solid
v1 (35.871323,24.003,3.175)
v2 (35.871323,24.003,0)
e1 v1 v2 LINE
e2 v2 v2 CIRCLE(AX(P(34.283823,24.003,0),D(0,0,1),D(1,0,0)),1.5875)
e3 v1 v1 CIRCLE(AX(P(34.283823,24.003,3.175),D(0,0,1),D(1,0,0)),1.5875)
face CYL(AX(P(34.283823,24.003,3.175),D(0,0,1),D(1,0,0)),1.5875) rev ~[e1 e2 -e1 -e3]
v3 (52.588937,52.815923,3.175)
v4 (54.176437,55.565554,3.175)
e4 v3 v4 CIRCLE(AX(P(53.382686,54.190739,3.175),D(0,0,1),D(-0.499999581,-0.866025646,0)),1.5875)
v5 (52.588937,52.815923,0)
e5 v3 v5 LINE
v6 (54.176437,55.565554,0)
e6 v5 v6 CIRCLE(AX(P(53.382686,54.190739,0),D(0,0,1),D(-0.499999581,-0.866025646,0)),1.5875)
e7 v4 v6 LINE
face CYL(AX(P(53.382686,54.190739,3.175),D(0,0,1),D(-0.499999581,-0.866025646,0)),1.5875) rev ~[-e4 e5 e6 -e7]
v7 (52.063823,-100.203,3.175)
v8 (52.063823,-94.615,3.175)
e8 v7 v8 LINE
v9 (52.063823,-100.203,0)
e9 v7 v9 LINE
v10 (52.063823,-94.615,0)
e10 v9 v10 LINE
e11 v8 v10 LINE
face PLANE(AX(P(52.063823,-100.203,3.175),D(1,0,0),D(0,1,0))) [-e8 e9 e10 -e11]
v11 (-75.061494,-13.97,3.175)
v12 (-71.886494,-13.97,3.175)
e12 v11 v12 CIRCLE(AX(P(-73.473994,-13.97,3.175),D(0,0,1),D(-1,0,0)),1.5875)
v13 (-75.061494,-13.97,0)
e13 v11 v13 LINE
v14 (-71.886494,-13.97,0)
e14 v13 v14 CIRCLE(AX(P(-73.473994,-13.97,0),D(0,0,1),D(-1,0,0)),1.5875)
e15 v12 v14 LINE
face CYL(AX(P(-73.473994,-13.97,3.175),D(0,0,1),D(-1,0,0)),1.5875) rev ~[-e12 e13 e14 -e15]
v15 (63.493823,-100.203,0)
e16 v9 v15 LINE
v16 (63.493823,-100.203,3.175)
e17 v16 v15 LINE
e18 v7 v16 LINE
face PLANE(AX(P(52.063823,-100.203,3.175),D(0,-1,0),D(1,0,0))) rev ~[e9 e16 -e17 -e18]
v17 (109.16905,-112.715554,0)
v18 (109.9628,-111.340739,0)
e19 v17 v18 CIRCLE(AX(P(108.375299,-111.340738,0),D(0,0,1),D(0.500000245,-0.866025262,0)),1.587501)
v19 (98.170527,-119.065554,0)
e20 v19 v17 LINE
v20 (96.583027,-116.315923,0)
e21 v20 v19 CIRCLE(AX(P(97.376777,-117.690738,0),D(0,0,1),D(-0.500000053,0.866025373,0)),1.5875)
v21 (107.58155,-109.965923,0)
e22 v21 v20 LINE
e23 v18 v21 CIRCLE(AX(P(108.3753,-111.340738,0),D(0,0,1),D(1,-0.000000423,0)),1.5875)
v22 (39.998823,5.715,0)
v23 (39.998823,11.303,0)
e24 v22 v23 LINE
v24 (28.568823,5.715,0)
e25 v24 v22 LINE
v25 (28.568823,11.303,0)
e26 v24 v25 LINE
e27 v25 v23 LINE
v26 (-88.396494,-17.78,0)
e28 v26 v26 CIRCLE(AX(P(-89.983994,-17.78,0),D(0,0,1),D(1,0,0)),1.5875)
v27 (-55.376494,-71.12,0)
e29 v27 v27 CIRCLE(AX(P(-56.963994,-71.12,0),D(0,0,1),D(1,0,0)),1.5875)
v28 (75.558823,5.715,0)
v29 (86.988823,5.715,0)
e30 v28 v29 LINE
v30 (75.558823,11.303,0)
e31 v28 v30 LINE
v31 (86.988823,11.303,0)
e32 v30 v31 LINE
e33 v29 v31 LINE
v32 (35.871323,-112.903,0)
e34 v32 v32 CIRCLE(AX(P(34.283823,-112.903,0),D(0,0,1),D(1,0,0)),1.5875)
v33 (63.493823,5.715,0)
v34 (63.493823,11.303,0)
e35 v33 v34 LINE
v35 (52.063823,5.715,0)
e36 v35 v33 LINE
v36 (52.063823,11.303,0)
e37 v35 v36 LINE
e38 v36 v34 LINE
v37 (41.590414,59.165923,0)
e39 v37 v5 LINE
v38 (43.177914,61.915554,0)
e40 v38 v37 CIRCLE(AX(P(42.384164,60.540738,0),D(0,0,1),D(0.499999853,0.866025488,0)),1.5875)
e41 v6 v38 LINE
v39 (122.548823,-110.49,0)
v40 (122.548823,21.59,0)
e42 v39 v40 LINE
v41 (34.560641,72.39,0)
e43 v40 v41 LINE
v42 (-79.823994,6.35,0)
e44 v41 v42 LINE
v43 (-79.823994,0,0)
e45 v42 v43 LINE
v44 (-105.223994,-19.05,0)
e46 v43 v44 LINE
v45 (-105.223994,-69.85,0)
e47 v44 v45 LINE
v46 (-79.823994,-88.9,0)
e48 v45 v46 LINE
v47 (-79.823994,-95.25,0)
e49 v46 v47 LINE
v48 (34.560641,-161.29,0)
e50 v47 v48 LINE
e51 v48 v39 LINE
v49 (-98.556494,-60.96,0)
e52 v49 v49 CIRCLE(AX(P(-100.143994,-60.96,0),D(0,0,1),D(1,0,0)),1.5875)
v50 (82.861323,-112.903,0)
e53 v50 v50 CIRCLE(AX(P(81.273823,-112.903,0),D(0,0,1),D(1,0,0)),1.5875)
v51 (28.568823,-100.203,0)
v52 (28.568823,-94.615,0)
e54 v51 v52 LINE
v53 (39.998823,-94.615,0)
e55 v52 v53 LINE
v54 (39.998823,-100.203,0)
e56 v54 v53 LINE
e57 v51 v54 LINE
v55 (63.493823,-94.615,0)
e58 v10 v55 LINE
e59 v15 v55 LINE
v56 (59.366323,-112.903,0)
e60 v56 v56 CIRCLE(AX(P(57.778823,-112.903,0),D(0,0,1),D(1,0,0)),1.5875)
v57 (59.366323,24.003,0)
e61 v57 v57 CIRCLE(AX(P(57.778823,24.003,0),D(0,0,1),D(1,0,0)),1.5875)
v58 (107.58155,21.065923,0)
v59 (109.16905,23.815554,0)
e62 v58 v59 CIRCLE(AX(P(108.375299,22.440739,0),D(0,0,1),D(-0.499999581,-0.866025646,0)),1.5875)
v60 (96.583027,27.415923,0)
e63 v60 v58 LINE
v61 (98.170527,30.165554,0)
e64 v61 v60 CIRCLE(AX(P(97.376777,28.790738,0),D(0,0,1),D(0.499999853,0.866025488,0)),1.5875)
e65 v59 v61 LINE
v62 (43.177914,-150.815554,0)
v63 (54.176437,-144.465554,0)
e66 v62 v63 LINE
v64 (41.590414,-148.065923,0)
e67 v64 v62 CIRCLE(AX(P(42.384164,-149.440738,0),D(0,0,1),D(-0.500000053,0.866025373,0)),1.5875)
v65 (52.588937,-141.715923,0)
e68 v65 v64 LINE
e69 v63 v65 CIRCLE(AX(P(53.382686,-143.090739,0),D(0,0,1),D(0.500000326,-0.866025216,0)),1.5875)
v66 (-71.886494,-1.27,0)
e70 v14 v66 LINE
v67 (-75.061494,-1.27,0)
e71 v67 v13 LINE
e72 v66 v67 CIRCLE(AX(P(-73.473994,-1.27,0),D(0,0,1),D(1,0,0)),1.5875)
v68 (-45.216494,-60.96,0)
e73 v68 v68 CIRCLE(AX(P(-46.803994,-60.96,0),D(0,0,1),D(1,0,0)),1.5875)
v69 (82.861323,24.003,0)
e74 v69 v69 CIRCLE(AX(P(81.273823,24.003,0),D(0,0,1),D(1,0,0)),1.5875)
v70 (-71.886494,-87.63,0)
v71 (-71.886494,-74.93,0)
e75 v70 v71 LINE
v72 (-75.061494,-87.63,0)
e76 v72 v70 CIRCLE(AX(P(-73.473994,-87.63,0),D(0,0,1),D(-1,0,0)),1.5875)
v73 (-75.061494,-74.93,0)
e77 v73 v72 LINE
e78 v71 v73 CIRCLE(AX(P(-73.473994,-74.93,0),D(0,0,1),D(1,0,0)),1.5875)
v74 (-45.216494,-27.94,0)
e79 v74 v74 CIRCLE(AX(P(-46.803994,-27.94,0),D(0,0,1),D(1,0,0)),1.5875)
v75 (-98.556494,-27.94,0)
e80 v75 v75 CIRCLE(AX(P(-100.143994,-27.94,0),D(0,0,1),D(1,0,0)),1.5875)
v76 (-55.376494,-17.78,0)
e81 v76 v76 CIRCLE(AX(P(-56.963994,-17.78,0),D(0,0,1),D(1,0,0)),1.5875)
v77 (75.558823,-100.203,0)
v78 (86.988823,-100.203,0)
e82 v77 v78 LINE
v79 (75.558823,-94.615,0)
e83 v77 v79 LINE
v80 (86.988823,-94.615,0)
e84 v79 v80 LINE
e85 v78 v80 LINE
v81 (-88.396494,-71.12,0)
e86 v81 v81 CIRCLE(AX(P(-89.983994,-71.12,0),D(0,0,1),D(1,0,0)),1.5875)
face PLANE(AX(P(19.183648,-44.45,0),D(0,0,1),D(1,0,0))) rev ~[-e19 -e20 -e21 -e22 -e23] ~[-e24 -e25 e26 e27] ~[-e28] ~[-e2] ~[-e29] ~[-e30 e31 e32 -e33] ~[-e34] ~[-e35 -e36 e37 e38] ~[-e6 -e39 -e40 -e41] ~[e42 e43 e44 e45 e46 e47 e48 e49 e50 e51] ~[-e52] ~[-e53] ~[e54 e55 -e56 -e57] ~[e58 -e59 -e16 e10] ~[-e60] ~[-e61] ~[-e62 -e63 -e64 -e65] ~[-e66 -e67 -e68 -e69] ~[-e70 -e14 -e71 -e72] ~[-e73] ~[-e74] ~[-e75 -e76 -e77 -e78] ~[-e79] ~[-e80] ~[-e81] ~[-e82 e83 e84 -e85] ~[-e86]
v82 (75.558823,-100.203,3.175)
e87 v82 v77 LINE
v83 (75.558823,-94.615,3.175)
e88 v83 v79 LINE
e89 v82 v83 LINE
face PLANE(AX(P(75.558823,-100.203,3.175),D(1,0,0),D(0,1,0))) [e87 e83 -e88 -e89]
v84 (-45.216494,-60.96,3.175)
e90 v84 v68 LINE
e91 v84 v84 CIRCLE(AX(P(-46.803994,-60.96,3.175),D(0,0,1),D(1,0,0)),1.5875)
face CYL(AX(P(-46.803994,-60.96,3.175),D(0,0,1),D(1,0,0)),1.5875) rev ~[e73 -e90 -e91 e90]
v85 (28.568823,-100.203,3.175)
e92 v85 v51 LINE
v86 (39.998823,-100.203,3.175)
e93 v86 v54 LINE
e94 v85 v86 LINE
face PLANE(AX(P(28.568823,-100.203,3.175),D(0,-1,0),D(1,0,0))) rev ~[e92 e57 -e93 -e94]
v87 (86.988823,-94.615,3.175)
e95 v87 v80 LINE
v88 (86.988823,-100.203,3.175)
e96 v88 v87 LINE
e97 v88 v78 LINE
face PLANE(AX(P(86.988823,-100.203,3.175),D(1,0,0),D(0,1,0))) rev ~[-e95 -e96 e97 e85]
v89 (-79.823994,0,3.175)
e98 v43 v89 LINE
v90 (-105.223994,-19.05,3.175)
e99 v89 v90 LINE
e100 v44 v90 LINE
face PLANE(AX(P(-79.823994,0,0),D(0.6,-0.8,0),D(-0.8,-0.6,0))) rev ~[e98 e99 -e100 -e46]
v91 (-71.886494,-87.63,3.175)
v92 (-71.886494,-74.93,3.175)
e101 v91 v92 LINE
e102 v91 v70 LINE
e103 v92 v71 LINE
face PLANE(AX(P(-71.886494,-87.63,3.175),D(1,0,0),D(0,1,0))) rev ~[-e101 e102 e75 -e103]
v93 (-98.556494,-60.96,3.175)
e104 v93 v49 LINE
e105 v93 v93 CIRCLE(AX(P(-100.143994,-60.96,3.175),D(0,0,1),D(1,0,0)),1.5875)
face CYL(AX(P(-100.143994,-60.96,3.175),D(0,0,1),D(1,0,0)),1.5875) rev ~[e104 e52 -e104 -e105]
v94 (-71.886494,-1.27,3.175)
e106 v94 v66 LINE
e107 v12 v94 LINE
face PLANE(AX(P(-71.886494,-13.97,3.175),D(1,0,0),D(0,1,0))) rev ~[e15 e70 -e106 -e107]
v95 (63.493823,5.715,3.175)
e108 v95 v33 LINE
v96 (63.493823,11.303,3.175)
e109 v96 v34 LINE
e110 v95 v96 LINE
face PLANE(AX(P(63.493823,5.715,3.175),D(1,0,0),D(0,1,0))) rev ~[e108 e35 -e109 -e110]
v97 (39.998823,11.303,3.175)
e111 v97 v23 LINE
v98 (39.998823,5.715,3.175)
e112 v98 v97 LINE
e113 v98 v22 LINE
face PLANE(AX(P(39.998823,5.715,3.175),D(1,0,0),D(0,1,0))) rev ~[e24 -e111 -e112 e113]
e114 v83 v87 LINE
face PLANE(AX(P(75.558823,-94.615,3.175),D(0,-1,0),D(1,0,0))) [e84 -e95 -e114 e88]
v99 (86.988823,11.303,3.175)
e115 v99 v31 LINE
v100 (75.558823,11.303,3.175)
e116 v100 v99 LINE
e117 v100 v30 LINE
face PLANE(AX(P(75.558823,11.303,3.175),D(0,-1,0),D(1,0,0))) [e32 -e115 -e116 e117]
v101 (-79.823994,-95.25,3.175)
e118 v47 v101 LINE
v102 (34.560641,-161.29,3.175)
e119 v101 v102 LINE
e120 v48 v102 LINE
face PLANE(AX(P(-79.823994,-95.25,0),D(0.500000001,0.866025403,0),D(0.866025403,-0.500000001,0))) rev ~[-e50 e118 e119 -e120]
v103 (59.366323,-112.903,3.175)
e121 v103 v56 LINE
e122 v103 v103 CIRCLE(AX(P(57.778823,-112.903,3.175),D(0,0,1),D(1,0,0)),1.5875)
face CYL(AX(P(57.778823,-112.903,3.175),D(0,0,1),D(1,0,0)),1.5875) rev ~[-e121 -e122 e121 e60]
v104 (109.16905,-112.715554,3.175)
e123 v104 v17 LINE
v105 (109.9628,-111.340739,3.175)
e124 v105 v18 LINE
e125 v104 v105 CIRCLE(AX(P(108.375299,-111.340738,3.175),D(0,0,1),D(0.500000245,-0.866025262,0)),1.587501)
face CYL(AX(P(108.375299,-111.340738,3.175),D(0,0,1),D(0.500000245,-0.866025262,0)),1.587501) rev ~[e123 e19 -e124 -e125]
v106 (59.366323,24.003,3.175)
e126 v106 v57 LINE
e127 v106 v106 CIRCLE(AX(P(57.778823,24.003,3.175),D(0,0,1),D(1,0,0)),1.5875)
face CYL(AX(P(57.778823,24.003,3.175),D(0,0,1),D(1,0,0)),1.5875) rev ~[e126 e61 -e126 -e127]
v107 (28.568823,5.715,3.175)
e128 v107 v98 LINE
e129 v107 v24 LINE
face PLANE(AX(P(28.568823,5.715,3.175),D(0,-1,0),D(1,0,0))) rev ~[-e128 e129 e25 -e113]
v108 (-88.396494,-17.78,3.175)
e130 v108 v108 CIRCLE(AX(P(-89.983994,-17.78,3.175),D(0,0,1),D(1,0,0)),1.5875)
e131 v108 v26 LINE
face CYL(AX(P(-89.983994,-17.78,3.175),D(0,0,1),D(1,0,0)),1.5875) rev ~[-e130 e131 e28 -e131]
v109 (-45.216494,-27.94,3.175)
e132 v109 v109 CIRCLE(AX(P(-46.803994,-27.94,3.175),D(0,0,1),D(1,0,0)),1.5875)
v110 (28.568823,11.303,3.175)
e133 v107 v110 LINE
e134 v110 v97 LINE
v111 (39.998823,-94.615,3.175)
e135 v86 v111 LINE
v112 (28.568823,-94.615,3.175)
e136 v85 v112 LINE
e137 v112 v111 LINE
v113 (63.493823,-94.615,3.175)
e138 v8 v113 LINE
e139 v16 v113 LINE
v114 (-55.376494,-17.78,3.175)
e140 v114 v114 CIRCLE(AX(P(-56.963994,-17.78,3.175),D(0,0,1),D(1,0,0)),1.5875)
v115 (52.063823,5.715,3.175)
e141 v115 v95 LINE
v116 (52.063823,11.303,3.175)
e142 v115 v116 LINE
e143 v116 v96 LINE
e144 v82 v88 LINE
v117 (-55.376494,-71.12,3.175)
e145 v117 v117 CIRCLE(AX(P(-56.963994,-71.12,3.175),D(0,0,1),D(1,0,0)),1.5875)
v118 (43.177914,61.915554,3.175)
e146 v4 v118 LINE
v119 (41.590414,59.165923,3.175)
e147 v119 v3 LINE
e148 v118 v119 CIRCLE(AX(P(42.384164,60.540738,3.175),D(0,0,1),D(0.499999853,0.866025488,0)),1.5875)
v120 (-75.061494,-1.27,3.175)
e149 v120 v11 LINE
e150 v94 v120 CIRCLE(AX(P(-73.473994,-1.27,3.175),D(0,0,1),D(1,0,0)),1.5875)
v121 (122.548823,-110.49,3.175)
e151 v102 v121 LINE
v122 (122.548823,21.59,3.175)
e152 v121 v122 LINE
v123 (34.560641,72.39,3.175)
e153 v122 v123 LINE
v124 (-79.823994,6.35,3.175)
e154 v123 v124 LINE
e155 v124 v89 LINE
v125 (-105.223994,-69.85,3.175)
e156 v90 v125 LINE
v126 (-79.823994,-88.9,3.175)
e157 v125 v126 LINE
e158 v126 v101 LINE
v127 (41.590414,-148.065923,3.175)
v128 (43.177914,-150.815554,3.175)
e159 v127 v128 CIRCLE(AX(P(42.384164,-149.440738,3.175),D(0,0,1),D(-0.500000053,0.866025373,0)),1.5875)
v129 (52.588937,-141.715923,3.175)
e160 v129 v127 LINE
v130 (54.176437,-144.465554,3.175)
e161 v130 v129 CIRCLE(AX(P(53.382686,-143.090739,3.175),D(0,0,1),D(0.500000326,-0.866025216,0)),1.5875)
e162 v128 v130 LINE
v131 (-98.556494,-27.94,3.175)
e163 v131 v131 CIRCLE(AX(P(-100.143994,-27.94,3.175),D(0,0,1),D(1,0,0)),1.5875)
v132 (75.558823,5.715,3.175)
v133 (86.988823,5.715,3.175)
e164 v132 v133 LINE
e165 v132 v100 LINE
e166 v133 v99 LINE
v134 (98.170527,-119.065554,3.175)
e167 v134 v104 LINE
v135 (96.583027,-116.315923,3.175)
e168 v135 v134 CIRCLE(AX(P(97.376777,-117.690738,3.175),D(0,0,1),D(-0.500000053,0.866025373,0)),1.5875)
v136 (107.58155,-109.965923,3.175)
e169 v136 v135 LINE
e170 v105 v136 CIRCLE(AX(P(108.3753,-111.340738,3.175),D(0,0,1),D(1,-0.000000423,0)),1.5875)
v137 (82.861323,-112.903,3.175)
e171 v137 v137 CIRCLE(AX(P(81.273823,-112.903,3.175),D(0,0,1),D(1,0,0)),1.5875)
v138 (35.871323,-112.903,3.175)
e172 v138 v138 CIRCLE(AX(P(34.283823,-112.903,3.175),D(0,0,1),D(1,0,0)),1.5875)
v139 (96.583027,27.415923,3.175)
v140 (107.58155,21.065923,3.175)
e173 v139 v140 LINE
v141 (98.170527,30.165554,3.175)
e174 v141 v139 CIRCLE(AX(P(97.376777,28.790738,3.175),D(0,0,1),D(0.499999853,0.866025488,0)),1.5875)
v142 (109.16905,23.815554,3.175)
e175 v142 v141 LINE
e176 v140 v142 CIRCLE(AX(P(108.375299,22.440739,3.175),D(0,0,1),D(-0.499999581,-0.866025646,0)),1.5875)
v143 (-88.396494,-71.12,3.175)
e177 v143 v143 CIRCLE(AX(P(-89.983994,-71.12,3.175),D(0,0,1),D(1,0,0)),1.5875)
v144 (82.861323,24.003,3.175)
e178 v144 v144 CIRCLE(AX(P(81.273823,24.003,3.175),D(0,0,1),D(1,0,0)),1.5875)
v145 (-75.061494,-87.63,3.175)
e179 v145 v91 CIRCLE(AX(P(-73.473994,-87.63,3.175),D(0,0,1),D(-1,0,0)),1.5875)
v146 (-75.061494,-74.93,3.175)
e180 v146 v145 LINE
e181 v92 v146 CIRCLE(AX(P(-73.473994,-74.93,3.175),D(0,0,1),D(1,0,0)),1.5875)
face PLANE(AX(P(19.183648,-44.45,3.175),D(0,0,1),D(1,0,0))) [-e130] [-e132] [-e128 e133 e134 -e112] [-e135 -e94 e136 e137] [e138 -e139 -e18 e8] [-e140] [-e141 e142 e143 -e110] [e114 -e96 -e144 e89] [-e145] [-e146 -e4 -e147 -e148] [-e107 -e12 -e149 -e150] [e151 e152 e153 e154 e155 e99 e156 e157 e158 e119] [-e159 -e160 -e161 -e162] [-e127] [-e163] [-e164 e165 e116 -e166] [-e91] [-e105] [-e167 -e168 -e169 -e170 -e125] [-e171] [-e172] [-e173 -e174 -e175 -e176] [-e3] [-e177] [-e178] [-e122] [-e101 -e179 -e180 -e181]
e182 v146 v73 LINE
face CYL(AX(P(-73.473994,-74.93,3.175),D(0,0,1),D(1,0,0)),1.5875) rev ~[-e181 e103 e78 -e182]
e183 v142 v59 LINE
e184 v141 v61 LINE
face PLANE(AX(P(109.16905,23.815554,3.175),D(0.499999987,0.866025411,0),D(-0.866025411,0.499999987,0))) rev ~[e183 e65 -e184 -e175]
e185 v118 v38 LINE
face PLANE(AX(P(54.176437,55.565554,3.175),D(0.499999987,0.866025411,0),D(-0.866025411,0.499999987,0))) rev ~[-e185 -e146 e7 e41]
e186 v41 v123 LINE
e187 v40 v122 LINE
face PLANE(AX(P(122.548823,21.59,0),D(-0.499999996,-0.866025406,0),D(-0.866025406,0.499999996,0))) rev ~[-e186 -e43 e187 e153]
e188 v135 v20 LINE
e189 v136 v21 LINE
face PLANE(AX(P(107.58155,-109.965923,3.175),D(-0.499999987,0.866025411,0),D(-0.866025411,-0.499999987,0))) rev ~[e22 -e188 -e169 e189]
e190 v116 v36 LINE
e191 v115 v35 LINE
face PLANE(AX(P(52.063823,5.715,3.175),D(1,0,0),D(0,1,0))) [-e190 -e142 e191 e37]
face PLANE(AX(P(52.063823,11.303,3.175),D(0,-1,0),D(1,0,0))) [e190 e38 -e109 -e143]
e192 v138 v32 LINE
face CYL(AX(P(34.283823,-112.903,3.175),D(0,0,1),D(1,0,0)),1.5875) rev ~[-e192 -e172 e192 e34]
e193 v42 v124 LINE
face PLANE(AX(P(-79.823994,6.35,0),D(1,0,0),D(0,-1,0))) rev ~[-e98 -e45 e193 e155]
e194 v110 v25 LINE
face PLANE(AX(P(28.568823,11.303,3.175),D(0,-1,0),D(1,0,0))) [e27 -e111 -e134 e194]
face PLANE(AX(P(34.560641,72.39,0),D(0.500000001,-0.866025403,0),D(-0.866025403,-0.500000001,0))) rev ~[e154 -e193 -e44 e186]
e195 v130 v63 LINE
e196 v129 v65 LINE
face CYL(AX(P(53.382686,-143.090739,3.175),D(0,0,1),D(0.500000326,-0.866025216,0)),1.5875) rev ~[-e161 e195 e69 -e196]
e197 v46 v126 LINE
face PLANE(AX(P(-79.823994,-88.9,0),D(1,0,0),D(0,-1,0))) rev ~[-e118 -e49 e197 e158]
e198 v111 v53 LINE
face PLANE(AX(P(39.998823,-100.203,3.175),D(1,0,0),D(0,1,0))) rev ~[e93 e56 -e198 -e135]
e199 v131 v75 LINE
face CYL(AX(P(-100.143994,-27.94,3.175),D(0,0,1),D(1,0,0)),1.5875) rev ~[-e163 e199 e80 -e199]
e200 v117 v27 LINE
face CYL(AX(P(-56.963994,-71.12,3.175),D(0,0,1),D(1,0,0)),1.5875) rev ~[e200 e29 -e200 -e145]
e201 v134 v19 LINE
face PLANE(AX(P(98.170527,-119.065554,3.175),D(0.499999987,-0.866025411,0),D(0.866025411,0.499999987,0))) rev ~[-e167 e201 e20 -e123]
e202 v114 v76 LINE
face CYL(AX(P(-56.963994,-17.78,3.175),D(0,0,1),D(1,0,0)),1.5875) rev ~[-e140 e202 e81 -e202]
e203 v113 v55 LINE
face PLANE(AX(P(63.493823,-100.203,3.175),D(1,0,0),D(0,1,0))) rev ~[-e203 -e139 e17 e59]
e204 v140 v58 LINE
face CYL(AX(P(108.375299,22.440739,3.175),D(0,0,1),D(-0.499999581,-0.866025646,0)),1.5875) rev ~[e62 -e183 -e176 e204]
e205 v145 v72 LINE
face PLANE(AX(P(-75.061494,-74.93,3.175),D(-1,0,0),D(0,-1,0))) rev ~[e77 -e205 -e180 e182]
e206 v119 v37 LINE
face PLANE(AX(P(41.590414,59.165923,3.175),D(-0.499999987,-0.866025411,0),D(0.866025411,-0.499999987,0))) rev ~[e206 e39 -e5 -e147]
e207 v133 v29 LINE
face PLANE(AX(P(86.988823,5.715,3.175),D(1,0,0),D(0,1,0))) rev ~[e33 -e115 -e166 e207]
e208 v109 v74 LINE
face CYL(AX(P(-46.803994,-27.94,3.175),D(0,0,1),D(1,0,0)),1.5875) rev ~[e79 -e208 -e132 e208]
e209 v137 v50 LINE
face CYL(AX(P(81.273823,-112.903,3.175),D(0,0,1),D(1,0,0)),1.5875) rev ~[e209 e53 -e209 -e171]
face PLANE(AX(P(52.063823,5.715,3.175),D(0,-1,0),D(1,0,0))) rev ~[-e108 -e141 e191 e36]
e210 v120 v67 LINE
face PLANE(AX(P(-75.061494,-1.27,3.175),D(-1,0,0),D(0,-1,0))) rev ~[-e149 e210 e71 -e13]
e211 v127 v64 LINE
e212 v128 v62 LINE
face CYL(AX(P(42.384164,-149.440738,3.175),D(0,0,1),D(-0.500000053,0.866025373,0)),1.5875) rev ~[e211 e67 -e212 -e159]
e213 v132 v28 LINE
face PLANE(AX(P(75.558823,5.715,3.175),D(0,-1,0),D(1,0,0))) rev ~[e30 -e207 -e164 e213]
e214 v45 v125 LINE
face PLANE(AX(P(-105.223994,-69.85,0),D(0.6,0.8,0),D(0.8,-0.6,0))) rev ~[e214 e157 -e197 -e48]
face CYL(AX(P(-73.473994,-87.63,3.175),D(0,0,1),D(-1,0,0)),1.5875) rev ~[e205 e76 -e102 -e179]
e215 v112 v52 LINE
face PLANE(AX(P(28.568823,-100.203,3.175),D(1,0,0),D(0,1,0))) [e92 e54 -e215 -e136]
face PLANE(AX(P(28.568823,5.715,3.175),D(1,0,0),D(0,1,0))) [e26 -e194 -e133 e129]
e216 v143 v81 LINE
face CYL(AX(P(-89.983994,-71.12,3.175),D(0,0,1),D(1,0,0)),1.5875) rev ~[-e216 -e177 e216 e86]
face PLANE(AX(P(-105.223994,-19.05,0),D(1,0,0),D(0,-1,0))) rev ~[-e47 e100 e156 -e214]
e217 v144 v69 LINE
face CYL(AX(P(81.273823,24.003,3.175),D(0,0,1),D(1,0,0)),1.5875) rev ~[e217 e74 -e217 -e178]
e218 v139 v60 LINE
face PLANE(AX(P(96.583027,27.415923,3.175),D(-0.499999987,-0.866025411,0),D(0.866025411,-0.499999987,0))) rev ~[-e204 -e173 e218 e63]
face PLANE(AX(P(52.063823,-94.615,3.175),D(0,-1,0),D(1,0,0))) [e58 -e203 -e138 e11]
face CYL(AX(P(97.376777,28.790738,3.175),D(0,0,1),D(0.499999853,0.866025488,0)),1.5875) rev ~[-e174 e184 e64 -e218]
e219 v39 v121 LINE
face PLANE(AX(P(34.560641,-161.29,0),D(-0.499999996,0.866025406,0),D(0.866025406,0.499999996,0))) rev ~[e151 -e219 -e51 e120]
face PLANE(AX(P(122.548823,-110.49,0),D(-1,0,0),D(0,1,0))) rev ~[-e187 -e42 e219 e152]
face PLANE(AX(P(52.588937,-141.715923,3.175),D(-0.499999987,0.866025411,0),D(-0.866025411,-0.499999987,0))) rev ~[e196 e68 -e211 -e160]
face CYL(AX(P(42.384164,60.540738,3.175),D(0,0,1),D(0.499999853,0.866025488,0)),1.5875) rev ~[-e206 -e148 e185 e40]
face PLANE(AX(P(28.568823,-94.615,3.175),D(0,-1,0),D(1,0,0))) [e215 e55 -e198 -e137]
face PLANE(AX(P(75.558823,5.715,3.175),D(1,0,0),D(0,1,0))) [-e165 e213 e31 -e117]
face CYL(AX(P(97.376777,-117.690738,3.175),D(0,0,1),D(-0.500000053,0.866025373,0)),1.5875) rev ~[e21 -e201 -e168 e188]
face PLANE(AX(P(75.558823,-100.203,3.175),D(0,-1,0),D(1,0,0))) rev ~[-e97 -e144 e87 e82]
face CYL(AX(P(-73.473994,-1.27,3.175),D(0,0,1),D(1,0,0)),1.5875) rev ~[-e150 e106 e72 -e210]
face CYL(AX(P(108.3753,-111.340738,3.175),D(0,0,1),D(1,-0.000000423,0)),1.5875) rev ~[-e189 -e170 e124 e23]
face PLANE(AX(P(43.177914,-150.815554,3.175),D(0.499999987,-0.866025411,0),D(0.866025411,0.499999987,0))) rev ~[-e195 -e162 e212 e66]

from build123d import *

# Parameters (mm, degrees)
F1_DEPTH = 3.175
F2_R     = 1.5875
F2_W     = 11.43
F2_H     = 5.588
F3_DEPTH = 25.4


with BuildPart() as f1:
    # F0 (on Top) → F1 (new body)
    with BuildSketch(Plane.XY):
        Polygon((-79.823994, 0), (-105.223994, -19.05), (-105.223994, -69.85), (-79.823994, -88.9), (-79.823994, -95.25), (34.560641, -161.29), (122.548823, -110.49), (122.548823, 21.59), (34.560641, 72.39), (-79.823994, 6.35), align=None)
    extrude(amount=F1_DEPTH)

    # F2 (on face) → F3 (cut)
    with BuildSketch(Plane.XY.offset(3.175)):
        with Locations((-100.143994, -27.94)):
            Circle(F2_R)
        with Locations((-89.983994, -17.78)):
            Circle(F2_R)
        with Locations((-56.963994, -17.78)):
            Circle(F2_R)
        with Locations((-46.803994, -27.94)):
            Circle(F2_R)
        with Locations((-46.803994, -60.96)):
            Circle(F2_R)
        with Locations((-56.963994, -71.12)):
            Circle(F2_R)
        with Locations((-89.983994, -71.12)):
            Circle(F2_R)
        with Locations((-100.143994, -60.96)):
            Circle(F2_R)
        with BuildLine():
            Line((-75.061494, -74.93), (-75.061494, -87.63))
            ThreePointArc((-75.061494, -87.63), (-73.473994, -89.2175), (-71.886494, -87.63))
            Line((-71.886494, -87.63), (-71.886494, -74.93))
            ThreePointArc((-71.886494, -74.93), (-73.473994, -73.3425), (-75.061494, -74.93))
        make_face()
        with BuildLine():
            Line((-71.886494, -13.97), (-71.886494, -1.27))
            ThreePointArc((-71.886494, -1.27), (-73.473994, 0.3175), (-75.061494, -1.27))
            Line((-75.061494, -1.27), (-75.061494, -13.97))
            ThreePointArc((-75.061494, -13.97), (-73.473994, -15.5575), (-71.886494, -13.97))
        make_face()
        with Locations((34.283823, 8.509)):
            Rectangle(F2_W, F2_H)
        with Locations((57.778823, 8.509)):
            Rectangle(F2_W, F2_H)
        with Locations((81.273823, 8.509)):
            Rectangle(F2_W, F2_H)
        with Locations((57.778823, 24.003)):
            Circle(F2_R)
        with Locations((34.283823, 24.003)):
            Circle(F2_R)
        with Locations((81.273823, -97.409)):
            Rectangle(F2_W, F2_H)
        with Locations((57.778823, -97.409)):
            Rectangle(F2_W, F2_H)
        with Locations((34.283823, -97.409)):
            Rectangle(F2_W, F2_H)
        with Locations((34.283823, -112.903)):
            Circle(F2_R)
        with Locations((57.778823, -112.903)):
            Circle(F2_R)
        with Locations((81.273823, -112.903)):
            Circle(F2_R)
        with BuildLine():
            ThreePointArc((109.16905, -112.715554), (107.000485, -112.134489), (107.58155, -109.965923))
            Line((107.58155, -109.965923), (96.583027, -116.315923))
            ThreePointArc((96.583027, -116.315923), (98.170527, -116.315923), (98.964277, -117.690739))
            ThreePointArc((98.964277, -117.690739), (98.751593, -118.484489), (98.170527, -119.065554))
            Line((98.170527, -119.065554), (109.16905, -112.715554))
        make_face()
        with BuildLine():
            ThreePointArc((98.964277, -117.690739), (98.170527, -116.315923), (96.583027, -116.315923))
            ThreePointArc((96.583027, -116.315923), (96.001962, -118.484489), (98.170527, -119.065554))
            ThreePointArc((98.170527, -119.065554), (98.751593, -118.484489), (98.964277, -117.690739))
        make_face()
        with BuildLine():
            ThreePointArc((109.16905, -112.715554), (109.750115, -112.134489), (109.9628, -111.340739))
            ThreePointArc((109.9628, -111.340739), (109.16905, -109.965923), (107.58155, -109.965923))
            ThreePointArc((107.58155, -109.965923), (107.000485, -112.134489), (109.16905, -112.715554))
        make_face()
        with BuildLine():
            Line((52.588937, -141.715923), (41.590414, -148.065923))
            ThreePointArc((41.590414, -148.065923), (41.009349, -150.234489), (43.177914, -150.815554))
            Line((43.177914, -150.815554), (54.176437, -144.465554))
            ThreePointArc((54.176437, -144.465554), (54.757502, -142.296989), (52.588937, -141.715923))
        make_face()
        with BuildLine():
            Line((96.583027, 27.415923), (107.58155, 21.065923))
            ThreePointArc((107.58155, 21.065923), (109.750115, 21.646989), (109.16905, 23.815554))
            Line((109.16905, 23.815554), (98.170527, 30.165554))
            ThreePointArc((98.170527, 30.165554), (96.001962, 29.584489), (96.583027, 27.415923))
        make_face()
        with BuildLine():
            Line((54.176437, 55.565554), (43.177914, 61.915554))
            ThreePointArc((43.177914, 61.915554), (41.009349, 61.334489), (41.590414, 59.165923))
            Line((41.590414, 59.165923), (52.588937, 52.815923))
            ThreePointArc((52.588937, 52.815923), (54.757502, 53.396989), (54.176437, 55.565554))
        make_face()
        with Locations((81.273823, 24.003)):
            Circle(F2_R)
    extrude(amount=-F3_DEPTH, mode=Mode.SUBTRACT)


solid = f1.part
